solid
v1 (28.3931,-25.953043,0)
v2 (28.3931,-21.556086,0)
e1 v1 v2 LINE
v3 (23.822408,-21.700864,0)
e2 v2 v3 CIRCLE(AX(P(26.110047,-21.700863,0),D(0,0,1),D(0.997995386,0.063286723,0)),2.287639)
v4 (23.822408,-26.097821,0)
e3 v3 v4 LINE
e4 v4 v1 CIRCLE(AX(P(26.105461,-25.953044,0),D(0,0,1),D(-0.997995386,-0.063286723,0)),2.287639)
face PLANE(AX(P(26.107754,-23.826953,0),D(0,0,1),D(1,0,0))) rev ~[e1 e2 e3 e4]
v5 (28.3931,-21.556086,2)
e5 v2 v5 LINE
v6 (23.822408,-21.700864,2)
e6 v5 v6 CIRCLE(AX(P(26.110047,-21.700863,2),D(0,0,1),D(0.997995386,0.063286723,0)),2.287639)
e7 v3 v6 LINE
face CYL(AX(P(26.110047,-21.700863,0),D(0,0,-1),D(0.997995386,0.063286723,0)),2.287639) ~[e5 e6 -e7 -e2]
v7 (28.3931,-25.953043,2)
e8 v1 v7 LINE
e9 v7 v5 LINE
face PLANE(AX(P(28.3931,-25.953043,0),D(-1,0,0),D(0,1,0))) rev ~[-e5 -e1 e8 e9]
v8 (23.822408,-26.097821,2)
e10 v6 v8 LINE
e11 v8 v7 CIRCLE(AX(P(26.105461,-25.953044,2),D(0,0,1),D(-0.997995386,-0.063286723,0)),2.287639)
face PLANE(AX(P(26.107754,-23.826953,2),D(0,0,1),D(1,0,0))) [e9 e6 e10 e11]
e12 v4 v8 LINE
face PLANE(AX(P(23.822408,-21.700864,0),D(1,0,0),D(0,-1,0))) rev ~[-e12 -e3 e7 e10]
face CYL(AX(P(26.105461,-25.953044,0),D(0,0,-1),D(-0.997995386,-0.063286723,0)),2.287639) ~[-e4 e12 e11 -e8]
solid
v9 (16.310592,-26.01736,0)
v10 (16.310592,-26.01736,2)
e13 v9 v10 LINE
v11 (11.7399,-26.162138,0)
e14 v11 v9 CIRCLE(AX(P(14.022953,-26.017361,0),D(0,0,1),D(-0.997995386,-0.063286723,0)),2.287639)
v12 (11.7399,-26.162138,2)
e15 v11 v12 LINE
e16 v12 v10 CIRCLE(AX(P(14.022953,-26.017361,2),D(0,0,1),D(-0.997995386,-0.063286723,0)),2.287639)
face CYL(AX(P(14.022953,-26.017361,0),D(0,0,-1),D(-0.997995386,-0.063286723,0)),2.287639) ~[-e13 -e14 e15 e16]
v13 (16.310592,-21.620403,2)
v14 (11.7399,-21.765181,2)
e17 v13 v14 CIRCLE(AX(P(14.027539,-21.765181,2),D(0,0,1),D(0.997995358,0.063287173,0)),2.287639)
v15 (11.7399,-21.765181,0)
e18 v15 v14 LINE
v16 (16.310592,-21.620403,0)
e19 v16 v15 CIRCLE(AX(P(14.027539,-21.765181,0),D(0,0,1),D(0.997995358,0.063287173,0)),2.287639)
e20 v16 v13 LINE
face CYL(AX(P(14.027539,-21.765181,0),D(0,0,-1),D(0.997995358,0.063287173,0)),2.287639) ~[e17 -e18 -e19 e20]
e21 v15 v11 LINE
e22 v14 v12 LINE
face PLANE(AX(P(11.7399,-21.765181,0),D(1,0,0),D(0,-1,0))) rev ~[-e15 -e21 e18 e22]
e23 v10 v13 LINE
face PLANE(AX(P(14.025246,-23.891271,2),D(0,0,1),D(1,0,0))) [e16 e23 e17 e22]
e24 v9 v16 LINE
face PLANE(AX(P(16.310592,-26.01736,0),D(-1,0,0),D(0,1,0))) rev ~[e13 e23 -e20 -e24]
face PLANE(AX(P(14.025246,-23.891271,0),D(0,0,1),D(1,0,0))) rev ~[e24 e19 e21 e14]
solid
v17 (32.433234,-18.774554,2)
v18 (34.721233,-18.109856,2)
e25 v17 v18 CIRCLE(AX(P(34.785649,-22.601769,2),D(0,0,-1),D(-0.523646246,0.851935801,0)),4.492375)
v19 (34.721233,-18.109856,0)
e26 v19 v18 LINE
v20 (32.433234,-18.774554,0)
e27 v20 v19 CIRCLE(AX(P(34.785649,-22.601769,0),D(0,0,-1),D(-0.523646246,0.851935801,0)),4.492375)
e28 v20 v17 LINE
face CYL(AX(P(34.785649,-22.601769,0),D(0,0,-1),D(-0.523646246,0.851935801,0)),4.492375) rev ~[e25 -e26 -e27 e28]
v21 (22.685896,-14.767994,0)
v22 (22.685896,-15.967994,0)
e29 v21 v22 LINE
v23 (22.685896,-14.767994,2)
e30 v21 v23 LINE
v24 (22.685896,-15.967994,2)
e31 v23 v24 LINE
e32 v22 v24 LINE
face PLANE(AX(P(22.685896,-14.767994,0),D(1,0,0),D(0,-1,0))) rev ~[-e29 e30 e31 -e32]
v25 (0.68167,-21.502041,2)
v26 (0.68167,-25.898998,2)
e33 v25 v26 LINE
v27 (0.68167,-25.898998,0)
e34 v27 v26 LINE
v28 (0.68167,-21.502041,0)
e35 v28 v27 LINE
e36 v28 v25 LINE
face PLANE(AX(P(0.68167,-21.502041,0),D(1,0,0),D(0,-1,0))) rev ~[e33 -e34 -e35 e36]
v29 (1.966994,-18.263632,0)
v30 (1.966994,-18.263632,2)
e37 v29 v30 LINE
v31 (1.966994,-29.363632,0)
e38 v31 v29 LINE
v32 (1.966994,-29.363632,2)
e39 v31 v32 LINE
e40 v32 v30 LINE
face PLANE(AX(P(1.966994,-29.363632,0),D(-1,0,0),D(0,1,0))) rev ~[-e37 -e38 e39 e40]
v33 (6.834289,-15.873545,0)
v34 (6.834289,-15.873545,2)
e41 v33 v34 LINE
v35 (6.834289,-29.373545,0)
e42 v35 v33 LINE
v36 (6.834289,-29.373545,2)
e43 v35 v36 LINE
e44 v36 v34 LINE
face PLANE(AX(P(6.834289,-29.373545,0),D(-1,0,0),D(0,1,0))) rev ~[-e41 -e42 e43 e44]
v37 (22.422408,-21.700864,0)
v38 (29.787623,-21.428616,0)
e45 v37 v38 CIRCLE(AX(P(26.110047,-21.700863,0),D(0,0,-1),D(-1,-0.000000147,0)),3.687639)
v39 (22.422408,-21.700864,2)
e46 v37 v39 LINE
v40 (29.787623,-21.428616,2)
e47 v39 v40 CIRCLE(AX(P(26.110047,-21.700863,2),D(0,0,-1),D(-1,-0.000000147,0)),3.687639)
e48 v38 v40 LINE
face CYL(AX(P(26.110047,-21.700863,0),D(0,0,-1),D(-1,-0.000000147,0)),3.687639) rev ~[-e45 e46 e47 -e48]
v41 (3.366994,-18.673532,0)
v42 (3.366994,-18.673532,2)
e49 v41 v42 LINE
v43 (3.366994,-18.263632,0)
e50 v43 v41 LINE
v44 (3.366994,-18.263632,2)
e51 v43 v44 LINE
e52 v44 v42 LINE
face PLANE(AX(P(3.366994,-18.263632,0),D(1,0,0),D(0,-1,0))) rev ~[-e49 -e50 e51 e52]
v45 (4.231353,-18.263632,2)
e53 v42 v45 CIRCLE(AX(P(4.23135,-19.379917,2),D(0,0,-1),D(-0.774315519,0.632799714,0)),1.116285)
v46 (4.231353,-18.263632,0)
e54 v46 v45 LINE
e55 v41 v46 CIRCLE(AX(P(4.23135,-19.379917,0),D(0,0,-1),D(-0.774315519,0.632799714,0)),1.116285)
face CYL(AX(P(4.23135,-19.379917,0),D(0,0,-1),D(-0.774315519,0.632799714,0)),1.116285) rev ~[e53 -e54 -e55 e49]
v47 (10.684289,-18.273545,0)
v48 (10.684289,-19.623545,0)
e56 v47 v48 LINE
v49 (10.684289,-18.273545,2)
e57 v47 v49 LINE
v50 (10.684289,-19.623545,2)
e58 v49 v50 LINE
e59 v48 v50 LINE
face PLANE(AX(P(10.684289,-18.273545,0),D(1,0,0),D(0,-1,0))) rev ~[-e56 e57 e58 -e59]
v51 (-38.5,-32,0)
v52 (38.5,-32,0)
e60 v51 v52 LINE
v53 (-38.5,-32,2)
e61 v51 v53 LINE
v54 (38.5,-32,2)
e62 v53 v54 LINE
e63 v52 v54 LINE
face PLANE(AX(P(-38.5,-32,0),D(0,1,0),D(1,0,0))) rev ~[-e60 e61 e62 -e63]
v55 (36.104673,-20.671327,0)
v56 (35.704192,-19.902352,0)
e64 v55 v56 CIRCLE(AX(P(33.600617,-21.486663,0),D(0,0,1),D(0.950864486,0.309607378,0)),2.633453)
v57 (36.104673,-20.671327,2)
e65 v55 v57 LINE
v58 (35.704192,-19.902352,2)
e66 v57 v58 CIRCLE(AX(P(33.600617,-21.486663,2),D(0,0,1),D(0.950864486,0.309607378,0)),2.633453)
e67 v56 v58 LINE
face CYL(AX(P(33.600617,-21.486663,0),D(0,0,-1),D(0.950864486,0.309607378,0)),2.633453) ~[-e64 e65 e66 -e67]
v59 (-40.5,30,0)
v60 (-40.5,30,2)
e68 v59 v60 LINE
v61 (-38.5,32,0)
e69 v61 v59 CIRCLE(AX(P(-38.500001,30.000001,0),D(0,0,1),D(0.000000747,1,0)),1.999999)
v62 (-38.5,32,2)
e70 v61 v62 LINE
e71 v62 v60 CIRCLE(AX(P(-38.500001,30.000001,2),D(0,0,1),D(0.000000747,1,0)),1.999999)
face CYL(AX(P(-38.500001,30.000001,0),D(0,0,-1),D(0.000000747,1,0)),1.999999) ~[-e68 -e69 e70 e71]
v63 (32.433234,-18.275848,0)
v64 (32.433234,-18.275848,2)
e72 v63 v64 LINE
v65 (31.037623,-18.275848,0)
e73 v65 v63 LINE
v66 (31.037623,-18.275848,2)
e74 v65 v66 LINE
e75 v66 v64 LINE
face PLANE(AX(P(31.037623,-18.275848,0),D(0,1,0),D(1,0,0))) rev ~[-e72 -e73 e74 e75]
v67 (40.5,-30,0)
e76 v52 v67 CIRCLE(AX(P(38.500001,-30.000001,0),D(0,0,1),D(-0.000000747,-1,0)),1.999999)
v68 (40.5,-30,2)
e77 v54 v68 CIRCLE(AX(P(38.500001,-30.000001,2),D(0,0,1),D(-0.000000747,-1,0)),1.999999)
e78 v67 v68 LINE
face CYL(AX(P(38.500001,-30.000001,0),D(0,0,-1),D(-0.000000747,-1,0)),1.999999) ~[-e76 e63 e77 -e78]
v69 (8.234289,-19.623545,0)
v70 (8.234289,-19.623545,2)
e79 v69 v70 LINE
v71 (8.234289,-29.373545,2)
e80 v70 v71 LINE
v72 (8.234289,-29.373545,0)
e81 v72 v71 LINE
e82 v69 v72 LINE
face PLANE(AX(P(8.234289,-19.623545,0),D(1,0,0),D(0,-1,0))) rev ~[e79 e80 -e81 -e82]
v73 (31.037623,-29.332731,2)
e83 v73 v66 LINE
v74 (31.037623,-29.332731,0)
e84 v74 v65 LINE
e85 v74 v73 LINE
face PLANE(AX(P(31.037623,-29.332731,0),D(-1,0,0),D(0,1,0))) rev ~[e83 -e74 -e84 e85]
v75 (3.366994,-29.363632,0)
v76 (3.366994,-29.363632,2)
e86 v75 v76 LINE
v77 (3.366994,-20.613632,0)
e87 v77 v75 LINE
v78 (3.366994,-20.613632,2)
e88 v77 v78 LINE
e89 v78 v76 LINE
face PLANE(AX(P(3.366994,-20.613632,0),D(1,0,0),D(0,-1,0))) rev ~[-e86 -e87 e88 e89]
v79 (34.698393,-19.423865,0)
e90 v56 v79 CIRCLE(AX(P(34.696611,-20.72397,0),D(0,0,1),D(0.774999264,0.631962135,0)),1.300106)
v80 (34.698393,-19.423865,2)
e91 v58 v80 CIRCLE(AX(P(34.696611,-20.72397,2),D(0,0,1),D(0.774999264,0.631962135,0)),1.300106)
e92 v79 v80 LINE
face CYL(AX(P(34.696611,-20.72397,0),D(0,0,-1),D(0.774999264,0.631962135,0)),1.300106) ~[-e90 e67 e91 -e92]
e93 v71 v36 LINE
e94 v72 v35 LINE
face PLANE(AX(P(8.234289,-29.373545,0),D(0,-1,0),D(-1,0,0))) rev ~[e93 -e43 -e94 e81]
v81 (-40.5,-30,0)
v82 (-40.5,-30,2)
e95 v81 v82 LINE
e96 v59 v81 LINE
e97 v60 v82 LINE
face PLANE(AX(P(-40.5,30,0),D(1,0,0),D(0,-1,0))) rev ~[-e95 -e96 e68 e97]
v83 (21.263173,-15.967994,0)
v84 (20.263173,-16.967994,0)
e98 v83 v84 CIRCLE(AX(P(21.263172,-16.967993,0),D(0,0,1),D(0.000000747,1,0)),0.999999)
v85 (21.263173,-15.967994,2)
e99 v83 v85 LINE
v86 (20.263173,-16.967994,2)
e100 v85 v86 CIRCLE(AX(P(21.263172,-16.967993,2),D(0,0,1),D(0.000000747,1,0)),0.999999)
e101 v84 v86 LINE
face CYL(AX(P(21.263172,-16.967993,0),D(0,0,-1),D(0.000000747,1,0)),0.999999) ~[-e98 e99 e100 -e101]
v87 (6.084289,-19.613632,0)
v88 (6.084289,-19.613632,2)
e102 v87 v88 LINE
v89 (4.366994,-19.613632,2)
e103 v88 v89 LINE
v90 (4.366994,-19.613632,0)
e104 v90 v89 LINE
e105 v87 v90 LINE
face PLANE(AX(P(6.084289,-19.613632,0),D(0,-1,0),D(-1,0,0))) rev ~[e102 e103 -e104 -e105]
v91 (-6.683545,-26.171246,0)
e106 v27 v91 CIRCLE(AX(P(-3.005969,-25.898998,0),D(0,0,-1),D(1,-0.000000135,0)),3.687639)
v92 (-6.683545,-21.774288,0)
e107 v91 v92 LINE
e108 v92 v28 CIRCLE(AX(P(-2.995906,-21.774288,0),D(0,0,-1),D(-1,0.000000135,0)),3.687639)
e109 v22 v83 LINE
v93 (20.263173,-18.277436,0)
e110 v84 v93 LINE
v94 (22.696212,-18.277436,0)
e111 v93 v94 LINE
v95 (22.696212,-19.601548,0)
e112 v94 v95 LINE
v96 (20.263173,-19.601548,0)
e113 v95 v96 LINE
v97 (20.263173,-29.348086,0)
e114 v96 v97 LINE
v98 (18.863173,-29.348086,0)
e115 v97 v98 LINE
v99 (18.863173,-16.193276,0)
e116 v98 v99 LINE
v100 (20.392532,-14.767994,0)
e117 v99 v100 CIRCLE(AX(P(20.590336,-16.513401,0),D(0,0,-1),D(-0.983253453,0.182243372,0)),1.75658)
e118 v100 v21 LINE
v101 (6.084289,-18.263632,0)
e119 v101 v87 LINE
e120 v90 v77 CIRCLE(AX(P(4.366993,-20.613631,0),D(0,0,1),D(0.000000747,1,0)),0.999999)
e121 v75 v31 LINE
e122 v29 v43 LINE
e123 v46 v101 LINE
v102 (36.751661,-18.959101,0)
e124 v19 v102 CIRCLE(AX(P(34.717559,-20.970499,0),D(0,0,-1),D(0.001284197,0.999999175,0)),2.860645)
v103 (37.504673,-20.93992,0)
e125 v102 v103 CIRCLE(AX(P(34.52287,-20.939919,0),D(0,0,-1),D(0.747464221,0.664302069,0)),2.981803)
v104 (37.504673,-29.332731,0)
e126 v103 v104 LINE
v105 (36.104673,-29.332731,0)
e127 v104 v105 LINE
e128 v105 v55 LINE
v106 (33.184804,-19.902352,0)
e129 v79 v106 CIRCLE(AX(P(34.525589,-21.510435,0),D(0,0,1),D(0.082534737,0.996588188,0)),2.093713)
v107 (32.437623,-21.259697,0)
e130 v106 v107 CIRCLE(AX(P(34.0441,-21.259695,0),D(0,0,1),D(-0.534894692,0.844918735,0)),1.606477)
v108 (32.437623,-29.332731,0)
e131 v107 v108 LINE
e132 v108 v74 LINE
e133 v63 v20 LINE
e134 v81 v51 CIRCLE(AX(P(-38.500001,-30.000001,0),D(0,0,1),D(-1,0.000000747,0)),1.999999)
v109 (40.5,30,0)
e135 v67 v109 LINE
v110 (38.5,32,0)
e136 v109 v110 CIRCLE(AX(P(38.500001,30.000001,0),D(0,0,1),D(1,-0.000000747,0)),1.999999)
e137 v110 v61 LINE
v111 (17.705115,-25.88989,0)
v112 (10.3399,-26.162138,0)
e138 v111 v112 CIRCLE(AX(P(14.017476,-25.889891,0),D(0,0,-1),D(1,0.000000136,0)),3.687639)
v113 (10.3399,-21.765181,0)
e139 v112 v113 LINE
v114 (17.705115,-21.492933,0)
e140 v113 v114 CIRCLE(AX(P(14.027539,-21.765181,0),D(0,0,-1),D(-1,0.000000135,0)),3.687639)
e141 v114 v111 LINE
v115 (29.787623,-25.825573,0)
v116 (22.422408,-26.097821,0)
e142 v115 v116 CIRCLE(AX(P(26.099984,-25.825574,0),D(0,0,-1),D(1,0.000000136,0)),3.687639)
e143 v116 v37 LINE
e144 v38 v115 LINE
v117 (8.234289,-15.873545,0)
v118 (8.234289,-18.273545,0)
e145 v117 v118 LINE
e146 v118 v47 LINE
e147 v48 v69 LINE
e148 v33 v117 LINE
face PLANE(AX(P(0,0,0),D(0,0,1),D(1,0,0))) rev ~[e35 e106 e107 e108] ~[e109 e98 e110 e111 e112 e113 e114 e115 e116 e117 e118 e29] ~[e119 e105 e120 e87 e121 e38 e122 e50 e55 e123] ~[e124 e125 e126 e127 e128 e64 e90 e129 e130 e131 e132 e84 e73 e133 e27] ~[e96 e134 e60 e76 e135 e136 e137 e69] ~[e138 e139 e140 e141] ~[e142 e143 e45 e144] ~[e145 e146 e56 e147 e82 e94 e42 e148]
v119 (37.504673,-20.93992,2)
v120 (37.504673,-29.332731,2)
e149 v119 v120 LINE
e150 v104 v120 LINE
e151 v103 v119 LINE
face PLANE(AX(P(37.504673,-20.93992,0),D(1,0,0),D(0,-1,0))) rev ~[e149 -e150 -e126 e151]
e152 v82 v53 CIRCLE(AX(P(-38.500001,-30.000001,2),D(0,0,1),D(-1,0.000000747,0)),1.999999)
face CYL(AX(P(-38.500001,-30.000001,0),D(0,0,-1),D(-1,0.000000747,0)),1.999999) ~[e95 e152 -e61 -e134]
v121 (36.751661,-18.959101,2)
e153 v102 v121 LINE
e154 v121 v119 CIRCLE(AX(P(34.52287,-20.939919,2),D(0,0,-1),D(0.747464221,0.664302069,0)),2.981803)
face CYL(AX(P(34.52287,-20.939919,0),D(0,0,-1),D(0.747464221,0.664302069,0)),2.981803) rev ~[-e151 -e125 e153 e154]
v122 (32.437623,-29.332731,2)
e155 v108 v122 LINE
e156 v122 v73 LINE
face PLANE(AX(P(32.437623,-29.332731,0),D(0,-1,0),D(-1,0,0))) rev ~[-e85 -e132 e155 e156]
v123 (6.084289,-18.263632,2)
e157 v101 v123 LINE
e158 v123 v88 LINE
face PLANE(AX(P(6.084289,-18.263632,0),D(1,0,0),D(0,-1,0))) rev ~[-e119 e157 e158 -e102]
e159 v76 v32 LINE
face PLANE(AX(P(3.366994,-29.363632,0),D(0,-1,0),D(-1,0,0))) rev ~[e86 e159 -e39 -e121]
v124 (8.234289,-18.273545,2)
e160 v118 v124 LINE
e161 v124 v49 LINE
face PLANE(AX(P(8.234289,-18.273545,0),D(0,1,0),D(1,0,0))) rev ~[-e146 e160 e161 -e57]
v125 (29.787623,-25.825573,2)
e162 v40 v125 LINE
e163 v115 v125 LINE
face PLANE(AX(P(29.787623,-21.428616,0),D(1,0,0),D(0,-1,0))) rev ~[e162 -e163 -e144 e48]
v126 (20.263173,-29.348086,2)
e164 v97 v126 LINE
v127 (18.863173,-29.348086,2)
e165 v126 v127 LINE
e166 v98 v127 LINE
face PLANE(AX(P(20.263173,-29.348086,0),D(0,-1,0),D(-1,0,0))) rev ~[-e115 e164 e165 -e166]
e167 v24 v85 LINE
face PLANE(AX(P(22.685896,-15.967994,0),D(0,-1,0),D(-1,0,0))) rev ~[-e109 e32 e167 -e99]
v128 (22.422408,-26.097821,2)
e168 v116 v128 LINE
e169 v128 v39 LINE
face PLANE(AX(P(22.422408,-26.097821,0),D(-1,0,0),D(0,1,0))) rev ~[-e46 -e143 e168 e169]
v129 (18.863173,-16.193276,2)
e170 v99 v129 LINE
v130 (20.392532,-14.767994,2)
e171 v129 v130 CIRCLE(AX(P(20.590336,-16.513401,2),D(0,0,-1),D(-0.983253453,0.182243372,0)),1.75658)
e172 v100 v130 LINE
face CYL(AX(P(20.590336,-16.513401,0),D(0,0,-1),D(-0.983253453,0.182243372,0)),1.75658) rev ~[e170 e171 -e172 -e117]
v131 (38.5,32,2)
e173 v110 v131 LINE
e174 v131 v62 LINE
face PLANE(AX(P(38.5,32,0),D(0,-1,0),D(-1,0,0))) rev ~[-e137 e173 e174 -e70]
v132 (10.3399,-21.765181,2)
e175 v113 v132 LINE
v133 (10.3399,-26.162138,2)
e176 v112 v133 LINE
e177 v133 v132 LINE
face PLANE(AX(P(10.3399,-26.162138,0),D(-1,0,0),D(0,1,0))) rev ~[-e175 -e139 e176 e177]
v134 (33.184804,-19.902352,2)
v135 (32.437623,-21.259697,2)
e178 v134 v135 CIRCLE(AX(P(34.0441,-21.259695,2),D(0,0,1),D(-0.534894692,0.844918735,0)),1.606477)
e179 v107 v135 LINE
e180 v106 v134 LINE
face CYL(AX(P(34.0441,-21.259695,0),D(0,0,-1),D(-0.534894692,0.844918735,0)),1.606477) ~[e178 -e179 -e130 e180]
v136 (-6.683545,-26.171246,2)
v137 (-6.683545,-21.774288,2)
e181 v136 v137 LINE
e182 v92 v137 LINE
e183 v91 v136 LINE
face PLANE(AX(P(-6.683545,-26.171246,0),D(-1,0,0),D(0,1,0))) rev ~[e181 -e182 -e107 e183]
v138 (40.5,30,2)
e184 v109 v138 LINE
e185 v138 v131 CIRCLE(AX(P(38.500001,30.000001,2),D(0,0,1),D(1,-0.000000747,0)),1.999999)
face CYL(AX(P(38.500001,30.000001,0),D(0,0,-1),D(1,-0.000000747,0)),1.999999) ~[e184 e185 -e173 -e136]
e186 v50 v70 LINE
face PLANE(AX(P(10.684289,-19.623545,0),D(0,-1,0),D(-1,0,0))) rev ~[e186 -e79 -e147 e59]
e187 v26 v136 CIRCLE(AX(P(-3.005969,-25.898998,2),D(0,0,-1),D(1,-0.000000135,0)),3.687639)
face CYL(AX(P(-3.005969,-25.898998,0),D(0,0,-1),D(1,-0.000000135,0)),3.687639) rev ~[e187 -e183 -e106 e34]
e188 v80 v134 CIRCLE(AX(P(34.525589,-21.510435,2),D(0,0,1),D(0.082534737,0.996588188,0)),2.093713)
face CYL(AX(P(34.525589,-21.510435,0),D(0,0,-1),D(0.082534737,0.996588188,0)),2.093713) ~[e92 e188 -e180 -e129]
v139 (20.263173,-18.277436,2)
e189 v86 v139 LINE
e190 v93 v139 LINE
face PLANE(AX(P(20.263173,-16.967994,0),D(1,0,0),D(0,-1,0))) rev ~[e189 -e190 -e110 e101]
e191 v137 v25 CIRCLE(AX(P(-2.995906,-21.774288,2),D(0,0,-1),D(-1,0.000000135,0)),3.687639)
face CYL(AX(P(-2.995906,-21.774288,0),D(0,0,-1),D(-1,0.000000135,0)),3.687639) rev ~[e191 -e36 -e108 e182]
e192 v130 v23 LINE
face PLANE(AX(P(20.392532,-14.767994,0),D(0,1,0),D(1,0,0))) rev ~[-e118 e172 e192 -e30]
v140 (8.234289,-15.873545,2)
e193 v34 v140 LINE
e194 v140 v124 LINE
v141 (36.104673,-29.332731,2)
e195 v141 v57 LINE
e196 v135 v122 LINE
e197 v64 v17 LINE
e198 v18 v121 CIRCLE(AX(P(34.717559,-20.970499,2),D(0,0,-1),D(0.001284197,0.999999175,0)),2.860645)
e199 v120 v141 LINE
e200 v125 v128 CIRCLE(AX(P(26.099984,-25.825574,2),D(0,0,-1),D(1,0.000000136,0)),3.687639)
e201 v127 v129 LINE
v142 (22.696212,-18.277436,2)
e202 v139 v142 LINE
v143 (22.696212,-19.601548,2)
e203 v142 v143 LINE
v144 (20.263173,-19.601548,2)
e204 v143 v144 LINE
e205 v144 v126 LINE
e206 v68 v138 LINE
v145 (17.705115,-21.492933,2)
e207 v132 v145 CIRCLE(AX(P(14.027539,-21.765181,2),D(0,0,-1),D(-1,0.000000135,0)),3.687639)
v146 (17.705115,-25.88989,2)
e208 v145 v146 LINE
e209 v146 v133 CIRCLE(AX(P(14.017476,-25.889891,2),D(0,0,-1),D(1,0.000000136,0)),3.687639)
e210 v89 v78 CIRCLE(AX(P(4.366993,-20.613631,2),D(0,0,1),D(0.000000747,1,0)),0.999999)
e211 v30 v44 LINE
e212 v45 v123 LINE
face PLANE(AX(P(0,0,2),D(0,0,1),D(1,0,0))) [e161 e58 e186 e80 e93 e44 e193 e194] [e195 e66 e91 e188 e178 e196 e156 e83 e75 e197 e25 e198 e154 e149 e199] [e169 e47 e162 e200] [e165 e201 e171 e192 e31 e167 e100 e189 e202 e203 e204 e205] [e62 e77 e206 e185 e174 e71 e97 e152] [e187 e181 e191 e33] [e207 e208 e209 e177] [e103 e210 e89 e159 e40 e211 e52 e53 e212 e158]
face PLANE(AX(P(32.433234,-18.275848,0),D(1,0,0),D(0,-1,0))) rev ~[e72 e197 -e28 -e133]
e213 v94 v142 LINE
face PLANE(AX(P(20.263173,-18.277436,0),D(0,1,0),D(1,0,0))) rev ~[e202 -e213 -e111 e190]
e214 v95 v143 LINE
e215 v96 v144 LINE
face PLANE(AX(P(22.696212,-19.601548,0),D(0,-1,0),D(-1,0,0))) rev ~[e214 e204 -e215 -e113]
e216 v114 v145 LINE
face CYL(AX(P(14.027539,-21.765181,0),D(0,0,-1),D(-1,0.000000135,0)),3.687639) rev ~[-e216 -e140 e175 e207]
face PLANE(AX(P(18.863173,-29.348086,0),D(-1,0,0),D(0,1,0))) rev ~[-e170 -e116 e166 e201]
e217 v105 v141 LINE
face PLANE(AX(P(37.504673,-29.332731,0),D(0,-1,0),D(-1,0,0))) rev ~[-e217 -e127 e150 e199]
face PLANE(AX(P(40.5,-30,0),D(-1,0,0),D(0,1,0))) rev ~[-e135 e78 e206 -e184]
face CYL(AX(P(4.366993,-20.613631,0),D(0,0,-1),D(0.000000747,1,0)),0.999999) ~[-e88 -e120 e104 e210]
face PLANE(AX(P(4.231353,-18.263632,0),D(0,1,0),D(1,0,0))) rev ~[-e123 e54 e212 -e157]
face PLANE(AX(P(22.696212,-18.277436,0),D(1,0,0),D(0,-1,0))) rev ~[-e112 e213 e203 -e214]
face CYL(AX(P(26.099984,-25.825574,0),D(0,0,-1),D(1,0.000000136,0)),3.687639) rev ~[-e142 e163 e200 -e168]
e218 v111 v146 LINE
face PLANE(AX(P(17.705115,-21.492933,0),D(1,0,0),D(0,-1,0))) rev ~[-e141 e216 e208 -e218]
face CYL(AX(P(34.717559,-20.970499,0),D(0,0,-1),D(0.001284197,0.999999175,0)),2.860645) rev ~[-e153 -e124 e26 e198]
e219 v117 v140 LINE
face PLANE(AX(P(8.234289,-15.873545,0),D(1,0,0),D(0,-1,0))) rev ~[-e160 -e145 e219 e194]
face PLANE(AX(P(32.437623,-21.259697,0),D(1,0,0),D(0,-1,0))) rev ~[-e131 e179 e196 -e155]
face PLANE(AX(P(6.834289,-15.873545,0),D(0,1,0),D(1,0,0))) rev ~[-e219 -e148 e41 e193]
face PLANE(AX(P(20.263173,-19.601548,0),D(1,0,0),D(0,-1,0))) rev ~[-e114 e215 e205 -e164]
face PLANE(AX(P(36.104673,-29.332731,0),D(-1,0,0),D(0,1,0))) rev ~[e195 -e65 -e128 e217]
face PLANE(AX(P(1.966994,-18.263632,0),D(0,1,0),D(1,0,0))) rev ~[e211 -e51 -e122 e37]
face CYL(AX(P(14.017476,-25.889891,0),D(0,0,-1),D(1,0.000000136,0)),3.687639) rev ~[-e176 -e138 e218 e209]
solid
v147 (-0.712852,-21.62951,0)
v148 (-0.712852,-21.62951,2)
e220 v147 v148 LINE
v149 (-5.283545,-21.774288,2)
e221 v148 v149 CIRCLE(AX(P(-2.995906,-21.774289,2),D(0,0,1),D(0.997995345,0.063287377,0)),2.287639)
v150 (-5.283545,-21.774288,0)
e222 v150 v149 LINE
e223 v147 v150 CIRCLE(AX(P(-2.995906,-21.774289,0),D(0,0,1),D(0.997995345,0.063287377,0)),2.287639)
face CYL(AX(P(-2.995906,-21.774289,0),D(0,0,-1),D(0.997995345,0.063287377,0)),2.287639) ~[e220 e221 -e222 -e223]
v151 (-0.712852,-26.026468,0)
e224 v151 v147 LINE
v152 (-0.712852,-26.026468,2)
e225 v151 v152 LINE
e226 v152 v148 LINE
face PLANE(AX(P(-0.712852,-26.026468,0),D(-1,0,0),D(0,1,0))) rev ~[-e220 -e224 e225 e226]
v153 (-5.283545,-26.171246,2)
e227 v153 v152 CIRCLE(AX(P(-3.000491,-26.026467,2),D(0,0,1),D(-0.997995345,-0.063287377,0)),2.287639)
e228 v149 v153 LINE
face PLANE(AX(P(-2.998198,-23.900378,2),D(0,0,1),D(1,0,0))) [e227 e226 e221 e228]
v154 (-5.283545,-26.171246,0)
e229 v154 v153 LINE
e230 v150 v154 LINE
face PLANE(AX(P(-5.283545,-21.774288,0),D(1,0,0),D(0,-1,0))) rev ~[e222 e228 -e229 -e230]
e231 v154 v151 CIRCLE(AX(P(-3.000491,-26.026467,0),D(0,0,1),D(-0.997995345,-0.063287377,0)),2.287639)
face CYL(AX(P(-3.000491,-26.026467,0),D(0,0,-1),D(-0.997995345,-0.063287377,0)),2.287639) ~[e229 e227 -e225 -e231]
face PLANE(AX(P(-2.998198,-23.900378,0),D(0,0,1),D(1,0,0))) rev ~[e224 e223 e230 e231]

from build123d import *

# Parameters (mm, degrees)
F1_DEPTH = 2


with BuildPart() as f1:
    # F0 (on Top) → F1 (new body)
    with BuildSketch(Plane.XY):
        with BuildLine():
            Line((38.5, 32), (-38.5, 32))
            ThreePointArc((-38.5, 32), (-39.914214, 31.414214), (-40.5, 30))
            Line((-40.5, 30), (-40.5, -30))
            ThreePointArc((-40.5, -30), (-39.914214, -31.414214), (-38.5, -32))
            Line((-38.5, -32), (38.5, -32))
            ThreePointArc((38.5, -32), (39.914214, -31.414214), (40.5, -30))
            Line((40.5, -30), (40.5, 30))
            ThreePointArc((40.5, 30), (39.914214, 31.414214), (38.5, 32))
        make_face()
        with BuildLine():
            Line((-6.683545, -26.171246), (-6.683545, -21.774288))
            ThreePointArc((-6.683545, -21.774288), (-3.132122, -18.089166), (0.68167, -21.502041))
            Line((0.68167, -21.502041), (0.68167, -25.898998))
            ThreePointArc((0.68167, -25.898998), (-2.869752, -29.58412), (-6.683545, -26.171246))
        make_face(mode=Mode.SUBTRACT)
        with BuildLine():
            Line((1.966994, -29.363632), (1.966994, -18.263632))
            Line((1.966994, -18.263632), (3.366994, -18.263632))
            Line((3.366994, -18.263632), (3.366994, -18.673532))
            ThreePointArc((3.366994, -18.673532), (3.753039, -18.371299), (4.231353, -18.263632))
            Line((4.231353, -18.263632), (6.084289, -18.263632))
            Line((6.084289, -18.263632), (6.084289, -19.613632))
            Line((6.084289, -19.613632), (4.366994, -19.613632))
            ThreePointArc((4.366994, -19.613632), (3.659887, -19.906525), (3.366994, -20.613632))
            Line((3.366994, -20.613632), (3.366994, -29.363632))
            Line((3.366994, -29.363632), (1.966994, -29.363632))
        make_face(mode=Mode.SUBTRACT)
        Polygon((6.834289, -29.373545), (6.834289, -15.873545), (8.234289, -15.873545), (8.234289, -18.273545), (10.684289, -18.273545), (10.684289, -19.623545), (8.234289, -19.623545), (8.234289, -29.373545), align=None, mode=Mode.SUBTRACT)
        with BuildLine():
            Line((10.3399, -26.162138), (10.3399, -21.765181))
            ThreePointArc((10.3399, -21.765181), (13.891322, -18.080059), (17.705115, -21.492933))
            Line((17.705115, -21.492933), (17.705115, -25.88989))
            ThreePointArc((17.705115, -25.88989), (14.153692, -29.575013), (10.3399, -26.162138))
        make_face(mode=Mode.SUBTRACT)
        with BuildLine():
            Line((18.863173, -29.348086), (18.863173, -16.193276))
            ThreePointArc((18.863173, -16.193276), (19.392742, -15.228356), (20.392532, -14.767994))
            Line((20.392532, -14.767994), (22.685896, -14.767994))
            Line((22.685896, -14.767994), (22.685896, -15.967994))
            Line((22.685896, -15.967994), (21.263173, -15.967994))
            ThreePointArc((21.263173, -15.967994), (20.556066, -16.260887), (20.263173, -16.967994))
            Line((20.263173, -16.967994), (20.263173, -18.277436))
            Line((20.263173, -18.277436), (22.696212, -18.277436))
            Line((22.696212, -18.277436), (22.696212, -19.601548))
            Line((22.696212, -19.601548), (20.263173, -19.601548))
            Line((20.263173, -19.601548), (20.263173, -29.348086))
            Line((20.263173, -29.348086), (18.863173, -29.348086))
        make_face(mode=Mode.SUBTRACT)
        with BuildLine():
            Line((22.422408, -26.097821), (22.422408, -21.700864))
            ThreePointArc((22.422408, -21.700864), (25.97383, -18.015741), (29.787623, -21.428616))
            Line((29.787623, -21.428616), (29.787623, -25.825573))
            ThreePointArc((29.787623, -25.825573), (26.2362, -29.510696), (22.422408, -26.097821))
        make_face(mode=Mode.SUBTRACT)
        with BuildLine():
            Line((31.037623, -29.332731), (31.037623, -18.275848))
            Line((31.037623, -18.275848), (32.433234, -18.275848))
            Line((32.433234, -18.275848), (32.433234, -18.774554))
            ThreePointArc((32.433234, -18.774554), (33.532364, -18.287756), (34.721233, -18.109856))
            ThreePointArc((34.721233, -18.109856), (35.821388, -18.331398), (36.751661, -18.959101))
            ThreePointArc((36.751661, -18.959101), (37.31007, -19.88036), (37.504673, -20.93992))
            Line((37.504673, -20.93992), (37.504673, -29.332731))
            Line((37.504673, -29.332731), (36.104673, -29.332731))
            Line((36.104673, -29.332731), (36.104673, -20.671327))
            ThreePointArc((36.104673, -20.671327), (35.936296, -20.270245), (35.704192, -19.902352))
            ThreePointArc((35.704192, -19.902352), (35.255128, -19.549945), (34.698393, -19.423865))
            ThreePointArc((34.698393, -19.423865), (33.894493, -19.5141), (33.184804, -19.902352))
            ThreePointArc((33.184804, -19.902352), (32.63676, -20.484993), (32.437623, -21.259697))
            Line((32.437623, -21.259697), (32.437623, -29.332731))
            Line((32.437623, -29.332731), (31.037623, -29.332731))
        make_face(mode=Mode.SUBTRACT)
        with BuildLine():
            ThreePointArc((-0.712852, -21.62951), (-3.068331, -19.487796), (-5.283545, -21.774288))
            Line((-5.283545, -21.774288), (-5.283545, -26.171246))
            ThreePointArc((-5.283545, -26.171246), (-2.928066, -28.31296), (-0.712852, -26.026468))
            Line((-0.712852, -26.026468), (-0.712852, -21.62951))
        make_face()
        with BuildLine():
            ThreePointArc((16.310592, -21.620403), (13.955114, -19.478689), (11.7399, -21.765181))
            Line((11.7399, -21.765181), (11.7399, -26.162138))
            ThreePointArc((11.7399, -26.162138), (14.095378, -28.303853), (16.310592, -26.01736))
            Line((16.310592, -26.01736), (16.310592, -21.620403))
        make_face()
        with BuildLine():
            ThreePointArc((28.3931, -21.556086), (26.037622, -19.414371), (23.822408, -21.700864))
            Line((23.822408, -21.700864), (23.822408, -26.097821))
            ThreePointArc((23.822408, -26.097821), (26.177886, -28.239536), (28.3931, -25.953043))
            Line((28.3931, -25.953043), (28.3931, -21.556086))
        make_face()
    extrude(amount=F1_DEPTH)


solid = f1.part
